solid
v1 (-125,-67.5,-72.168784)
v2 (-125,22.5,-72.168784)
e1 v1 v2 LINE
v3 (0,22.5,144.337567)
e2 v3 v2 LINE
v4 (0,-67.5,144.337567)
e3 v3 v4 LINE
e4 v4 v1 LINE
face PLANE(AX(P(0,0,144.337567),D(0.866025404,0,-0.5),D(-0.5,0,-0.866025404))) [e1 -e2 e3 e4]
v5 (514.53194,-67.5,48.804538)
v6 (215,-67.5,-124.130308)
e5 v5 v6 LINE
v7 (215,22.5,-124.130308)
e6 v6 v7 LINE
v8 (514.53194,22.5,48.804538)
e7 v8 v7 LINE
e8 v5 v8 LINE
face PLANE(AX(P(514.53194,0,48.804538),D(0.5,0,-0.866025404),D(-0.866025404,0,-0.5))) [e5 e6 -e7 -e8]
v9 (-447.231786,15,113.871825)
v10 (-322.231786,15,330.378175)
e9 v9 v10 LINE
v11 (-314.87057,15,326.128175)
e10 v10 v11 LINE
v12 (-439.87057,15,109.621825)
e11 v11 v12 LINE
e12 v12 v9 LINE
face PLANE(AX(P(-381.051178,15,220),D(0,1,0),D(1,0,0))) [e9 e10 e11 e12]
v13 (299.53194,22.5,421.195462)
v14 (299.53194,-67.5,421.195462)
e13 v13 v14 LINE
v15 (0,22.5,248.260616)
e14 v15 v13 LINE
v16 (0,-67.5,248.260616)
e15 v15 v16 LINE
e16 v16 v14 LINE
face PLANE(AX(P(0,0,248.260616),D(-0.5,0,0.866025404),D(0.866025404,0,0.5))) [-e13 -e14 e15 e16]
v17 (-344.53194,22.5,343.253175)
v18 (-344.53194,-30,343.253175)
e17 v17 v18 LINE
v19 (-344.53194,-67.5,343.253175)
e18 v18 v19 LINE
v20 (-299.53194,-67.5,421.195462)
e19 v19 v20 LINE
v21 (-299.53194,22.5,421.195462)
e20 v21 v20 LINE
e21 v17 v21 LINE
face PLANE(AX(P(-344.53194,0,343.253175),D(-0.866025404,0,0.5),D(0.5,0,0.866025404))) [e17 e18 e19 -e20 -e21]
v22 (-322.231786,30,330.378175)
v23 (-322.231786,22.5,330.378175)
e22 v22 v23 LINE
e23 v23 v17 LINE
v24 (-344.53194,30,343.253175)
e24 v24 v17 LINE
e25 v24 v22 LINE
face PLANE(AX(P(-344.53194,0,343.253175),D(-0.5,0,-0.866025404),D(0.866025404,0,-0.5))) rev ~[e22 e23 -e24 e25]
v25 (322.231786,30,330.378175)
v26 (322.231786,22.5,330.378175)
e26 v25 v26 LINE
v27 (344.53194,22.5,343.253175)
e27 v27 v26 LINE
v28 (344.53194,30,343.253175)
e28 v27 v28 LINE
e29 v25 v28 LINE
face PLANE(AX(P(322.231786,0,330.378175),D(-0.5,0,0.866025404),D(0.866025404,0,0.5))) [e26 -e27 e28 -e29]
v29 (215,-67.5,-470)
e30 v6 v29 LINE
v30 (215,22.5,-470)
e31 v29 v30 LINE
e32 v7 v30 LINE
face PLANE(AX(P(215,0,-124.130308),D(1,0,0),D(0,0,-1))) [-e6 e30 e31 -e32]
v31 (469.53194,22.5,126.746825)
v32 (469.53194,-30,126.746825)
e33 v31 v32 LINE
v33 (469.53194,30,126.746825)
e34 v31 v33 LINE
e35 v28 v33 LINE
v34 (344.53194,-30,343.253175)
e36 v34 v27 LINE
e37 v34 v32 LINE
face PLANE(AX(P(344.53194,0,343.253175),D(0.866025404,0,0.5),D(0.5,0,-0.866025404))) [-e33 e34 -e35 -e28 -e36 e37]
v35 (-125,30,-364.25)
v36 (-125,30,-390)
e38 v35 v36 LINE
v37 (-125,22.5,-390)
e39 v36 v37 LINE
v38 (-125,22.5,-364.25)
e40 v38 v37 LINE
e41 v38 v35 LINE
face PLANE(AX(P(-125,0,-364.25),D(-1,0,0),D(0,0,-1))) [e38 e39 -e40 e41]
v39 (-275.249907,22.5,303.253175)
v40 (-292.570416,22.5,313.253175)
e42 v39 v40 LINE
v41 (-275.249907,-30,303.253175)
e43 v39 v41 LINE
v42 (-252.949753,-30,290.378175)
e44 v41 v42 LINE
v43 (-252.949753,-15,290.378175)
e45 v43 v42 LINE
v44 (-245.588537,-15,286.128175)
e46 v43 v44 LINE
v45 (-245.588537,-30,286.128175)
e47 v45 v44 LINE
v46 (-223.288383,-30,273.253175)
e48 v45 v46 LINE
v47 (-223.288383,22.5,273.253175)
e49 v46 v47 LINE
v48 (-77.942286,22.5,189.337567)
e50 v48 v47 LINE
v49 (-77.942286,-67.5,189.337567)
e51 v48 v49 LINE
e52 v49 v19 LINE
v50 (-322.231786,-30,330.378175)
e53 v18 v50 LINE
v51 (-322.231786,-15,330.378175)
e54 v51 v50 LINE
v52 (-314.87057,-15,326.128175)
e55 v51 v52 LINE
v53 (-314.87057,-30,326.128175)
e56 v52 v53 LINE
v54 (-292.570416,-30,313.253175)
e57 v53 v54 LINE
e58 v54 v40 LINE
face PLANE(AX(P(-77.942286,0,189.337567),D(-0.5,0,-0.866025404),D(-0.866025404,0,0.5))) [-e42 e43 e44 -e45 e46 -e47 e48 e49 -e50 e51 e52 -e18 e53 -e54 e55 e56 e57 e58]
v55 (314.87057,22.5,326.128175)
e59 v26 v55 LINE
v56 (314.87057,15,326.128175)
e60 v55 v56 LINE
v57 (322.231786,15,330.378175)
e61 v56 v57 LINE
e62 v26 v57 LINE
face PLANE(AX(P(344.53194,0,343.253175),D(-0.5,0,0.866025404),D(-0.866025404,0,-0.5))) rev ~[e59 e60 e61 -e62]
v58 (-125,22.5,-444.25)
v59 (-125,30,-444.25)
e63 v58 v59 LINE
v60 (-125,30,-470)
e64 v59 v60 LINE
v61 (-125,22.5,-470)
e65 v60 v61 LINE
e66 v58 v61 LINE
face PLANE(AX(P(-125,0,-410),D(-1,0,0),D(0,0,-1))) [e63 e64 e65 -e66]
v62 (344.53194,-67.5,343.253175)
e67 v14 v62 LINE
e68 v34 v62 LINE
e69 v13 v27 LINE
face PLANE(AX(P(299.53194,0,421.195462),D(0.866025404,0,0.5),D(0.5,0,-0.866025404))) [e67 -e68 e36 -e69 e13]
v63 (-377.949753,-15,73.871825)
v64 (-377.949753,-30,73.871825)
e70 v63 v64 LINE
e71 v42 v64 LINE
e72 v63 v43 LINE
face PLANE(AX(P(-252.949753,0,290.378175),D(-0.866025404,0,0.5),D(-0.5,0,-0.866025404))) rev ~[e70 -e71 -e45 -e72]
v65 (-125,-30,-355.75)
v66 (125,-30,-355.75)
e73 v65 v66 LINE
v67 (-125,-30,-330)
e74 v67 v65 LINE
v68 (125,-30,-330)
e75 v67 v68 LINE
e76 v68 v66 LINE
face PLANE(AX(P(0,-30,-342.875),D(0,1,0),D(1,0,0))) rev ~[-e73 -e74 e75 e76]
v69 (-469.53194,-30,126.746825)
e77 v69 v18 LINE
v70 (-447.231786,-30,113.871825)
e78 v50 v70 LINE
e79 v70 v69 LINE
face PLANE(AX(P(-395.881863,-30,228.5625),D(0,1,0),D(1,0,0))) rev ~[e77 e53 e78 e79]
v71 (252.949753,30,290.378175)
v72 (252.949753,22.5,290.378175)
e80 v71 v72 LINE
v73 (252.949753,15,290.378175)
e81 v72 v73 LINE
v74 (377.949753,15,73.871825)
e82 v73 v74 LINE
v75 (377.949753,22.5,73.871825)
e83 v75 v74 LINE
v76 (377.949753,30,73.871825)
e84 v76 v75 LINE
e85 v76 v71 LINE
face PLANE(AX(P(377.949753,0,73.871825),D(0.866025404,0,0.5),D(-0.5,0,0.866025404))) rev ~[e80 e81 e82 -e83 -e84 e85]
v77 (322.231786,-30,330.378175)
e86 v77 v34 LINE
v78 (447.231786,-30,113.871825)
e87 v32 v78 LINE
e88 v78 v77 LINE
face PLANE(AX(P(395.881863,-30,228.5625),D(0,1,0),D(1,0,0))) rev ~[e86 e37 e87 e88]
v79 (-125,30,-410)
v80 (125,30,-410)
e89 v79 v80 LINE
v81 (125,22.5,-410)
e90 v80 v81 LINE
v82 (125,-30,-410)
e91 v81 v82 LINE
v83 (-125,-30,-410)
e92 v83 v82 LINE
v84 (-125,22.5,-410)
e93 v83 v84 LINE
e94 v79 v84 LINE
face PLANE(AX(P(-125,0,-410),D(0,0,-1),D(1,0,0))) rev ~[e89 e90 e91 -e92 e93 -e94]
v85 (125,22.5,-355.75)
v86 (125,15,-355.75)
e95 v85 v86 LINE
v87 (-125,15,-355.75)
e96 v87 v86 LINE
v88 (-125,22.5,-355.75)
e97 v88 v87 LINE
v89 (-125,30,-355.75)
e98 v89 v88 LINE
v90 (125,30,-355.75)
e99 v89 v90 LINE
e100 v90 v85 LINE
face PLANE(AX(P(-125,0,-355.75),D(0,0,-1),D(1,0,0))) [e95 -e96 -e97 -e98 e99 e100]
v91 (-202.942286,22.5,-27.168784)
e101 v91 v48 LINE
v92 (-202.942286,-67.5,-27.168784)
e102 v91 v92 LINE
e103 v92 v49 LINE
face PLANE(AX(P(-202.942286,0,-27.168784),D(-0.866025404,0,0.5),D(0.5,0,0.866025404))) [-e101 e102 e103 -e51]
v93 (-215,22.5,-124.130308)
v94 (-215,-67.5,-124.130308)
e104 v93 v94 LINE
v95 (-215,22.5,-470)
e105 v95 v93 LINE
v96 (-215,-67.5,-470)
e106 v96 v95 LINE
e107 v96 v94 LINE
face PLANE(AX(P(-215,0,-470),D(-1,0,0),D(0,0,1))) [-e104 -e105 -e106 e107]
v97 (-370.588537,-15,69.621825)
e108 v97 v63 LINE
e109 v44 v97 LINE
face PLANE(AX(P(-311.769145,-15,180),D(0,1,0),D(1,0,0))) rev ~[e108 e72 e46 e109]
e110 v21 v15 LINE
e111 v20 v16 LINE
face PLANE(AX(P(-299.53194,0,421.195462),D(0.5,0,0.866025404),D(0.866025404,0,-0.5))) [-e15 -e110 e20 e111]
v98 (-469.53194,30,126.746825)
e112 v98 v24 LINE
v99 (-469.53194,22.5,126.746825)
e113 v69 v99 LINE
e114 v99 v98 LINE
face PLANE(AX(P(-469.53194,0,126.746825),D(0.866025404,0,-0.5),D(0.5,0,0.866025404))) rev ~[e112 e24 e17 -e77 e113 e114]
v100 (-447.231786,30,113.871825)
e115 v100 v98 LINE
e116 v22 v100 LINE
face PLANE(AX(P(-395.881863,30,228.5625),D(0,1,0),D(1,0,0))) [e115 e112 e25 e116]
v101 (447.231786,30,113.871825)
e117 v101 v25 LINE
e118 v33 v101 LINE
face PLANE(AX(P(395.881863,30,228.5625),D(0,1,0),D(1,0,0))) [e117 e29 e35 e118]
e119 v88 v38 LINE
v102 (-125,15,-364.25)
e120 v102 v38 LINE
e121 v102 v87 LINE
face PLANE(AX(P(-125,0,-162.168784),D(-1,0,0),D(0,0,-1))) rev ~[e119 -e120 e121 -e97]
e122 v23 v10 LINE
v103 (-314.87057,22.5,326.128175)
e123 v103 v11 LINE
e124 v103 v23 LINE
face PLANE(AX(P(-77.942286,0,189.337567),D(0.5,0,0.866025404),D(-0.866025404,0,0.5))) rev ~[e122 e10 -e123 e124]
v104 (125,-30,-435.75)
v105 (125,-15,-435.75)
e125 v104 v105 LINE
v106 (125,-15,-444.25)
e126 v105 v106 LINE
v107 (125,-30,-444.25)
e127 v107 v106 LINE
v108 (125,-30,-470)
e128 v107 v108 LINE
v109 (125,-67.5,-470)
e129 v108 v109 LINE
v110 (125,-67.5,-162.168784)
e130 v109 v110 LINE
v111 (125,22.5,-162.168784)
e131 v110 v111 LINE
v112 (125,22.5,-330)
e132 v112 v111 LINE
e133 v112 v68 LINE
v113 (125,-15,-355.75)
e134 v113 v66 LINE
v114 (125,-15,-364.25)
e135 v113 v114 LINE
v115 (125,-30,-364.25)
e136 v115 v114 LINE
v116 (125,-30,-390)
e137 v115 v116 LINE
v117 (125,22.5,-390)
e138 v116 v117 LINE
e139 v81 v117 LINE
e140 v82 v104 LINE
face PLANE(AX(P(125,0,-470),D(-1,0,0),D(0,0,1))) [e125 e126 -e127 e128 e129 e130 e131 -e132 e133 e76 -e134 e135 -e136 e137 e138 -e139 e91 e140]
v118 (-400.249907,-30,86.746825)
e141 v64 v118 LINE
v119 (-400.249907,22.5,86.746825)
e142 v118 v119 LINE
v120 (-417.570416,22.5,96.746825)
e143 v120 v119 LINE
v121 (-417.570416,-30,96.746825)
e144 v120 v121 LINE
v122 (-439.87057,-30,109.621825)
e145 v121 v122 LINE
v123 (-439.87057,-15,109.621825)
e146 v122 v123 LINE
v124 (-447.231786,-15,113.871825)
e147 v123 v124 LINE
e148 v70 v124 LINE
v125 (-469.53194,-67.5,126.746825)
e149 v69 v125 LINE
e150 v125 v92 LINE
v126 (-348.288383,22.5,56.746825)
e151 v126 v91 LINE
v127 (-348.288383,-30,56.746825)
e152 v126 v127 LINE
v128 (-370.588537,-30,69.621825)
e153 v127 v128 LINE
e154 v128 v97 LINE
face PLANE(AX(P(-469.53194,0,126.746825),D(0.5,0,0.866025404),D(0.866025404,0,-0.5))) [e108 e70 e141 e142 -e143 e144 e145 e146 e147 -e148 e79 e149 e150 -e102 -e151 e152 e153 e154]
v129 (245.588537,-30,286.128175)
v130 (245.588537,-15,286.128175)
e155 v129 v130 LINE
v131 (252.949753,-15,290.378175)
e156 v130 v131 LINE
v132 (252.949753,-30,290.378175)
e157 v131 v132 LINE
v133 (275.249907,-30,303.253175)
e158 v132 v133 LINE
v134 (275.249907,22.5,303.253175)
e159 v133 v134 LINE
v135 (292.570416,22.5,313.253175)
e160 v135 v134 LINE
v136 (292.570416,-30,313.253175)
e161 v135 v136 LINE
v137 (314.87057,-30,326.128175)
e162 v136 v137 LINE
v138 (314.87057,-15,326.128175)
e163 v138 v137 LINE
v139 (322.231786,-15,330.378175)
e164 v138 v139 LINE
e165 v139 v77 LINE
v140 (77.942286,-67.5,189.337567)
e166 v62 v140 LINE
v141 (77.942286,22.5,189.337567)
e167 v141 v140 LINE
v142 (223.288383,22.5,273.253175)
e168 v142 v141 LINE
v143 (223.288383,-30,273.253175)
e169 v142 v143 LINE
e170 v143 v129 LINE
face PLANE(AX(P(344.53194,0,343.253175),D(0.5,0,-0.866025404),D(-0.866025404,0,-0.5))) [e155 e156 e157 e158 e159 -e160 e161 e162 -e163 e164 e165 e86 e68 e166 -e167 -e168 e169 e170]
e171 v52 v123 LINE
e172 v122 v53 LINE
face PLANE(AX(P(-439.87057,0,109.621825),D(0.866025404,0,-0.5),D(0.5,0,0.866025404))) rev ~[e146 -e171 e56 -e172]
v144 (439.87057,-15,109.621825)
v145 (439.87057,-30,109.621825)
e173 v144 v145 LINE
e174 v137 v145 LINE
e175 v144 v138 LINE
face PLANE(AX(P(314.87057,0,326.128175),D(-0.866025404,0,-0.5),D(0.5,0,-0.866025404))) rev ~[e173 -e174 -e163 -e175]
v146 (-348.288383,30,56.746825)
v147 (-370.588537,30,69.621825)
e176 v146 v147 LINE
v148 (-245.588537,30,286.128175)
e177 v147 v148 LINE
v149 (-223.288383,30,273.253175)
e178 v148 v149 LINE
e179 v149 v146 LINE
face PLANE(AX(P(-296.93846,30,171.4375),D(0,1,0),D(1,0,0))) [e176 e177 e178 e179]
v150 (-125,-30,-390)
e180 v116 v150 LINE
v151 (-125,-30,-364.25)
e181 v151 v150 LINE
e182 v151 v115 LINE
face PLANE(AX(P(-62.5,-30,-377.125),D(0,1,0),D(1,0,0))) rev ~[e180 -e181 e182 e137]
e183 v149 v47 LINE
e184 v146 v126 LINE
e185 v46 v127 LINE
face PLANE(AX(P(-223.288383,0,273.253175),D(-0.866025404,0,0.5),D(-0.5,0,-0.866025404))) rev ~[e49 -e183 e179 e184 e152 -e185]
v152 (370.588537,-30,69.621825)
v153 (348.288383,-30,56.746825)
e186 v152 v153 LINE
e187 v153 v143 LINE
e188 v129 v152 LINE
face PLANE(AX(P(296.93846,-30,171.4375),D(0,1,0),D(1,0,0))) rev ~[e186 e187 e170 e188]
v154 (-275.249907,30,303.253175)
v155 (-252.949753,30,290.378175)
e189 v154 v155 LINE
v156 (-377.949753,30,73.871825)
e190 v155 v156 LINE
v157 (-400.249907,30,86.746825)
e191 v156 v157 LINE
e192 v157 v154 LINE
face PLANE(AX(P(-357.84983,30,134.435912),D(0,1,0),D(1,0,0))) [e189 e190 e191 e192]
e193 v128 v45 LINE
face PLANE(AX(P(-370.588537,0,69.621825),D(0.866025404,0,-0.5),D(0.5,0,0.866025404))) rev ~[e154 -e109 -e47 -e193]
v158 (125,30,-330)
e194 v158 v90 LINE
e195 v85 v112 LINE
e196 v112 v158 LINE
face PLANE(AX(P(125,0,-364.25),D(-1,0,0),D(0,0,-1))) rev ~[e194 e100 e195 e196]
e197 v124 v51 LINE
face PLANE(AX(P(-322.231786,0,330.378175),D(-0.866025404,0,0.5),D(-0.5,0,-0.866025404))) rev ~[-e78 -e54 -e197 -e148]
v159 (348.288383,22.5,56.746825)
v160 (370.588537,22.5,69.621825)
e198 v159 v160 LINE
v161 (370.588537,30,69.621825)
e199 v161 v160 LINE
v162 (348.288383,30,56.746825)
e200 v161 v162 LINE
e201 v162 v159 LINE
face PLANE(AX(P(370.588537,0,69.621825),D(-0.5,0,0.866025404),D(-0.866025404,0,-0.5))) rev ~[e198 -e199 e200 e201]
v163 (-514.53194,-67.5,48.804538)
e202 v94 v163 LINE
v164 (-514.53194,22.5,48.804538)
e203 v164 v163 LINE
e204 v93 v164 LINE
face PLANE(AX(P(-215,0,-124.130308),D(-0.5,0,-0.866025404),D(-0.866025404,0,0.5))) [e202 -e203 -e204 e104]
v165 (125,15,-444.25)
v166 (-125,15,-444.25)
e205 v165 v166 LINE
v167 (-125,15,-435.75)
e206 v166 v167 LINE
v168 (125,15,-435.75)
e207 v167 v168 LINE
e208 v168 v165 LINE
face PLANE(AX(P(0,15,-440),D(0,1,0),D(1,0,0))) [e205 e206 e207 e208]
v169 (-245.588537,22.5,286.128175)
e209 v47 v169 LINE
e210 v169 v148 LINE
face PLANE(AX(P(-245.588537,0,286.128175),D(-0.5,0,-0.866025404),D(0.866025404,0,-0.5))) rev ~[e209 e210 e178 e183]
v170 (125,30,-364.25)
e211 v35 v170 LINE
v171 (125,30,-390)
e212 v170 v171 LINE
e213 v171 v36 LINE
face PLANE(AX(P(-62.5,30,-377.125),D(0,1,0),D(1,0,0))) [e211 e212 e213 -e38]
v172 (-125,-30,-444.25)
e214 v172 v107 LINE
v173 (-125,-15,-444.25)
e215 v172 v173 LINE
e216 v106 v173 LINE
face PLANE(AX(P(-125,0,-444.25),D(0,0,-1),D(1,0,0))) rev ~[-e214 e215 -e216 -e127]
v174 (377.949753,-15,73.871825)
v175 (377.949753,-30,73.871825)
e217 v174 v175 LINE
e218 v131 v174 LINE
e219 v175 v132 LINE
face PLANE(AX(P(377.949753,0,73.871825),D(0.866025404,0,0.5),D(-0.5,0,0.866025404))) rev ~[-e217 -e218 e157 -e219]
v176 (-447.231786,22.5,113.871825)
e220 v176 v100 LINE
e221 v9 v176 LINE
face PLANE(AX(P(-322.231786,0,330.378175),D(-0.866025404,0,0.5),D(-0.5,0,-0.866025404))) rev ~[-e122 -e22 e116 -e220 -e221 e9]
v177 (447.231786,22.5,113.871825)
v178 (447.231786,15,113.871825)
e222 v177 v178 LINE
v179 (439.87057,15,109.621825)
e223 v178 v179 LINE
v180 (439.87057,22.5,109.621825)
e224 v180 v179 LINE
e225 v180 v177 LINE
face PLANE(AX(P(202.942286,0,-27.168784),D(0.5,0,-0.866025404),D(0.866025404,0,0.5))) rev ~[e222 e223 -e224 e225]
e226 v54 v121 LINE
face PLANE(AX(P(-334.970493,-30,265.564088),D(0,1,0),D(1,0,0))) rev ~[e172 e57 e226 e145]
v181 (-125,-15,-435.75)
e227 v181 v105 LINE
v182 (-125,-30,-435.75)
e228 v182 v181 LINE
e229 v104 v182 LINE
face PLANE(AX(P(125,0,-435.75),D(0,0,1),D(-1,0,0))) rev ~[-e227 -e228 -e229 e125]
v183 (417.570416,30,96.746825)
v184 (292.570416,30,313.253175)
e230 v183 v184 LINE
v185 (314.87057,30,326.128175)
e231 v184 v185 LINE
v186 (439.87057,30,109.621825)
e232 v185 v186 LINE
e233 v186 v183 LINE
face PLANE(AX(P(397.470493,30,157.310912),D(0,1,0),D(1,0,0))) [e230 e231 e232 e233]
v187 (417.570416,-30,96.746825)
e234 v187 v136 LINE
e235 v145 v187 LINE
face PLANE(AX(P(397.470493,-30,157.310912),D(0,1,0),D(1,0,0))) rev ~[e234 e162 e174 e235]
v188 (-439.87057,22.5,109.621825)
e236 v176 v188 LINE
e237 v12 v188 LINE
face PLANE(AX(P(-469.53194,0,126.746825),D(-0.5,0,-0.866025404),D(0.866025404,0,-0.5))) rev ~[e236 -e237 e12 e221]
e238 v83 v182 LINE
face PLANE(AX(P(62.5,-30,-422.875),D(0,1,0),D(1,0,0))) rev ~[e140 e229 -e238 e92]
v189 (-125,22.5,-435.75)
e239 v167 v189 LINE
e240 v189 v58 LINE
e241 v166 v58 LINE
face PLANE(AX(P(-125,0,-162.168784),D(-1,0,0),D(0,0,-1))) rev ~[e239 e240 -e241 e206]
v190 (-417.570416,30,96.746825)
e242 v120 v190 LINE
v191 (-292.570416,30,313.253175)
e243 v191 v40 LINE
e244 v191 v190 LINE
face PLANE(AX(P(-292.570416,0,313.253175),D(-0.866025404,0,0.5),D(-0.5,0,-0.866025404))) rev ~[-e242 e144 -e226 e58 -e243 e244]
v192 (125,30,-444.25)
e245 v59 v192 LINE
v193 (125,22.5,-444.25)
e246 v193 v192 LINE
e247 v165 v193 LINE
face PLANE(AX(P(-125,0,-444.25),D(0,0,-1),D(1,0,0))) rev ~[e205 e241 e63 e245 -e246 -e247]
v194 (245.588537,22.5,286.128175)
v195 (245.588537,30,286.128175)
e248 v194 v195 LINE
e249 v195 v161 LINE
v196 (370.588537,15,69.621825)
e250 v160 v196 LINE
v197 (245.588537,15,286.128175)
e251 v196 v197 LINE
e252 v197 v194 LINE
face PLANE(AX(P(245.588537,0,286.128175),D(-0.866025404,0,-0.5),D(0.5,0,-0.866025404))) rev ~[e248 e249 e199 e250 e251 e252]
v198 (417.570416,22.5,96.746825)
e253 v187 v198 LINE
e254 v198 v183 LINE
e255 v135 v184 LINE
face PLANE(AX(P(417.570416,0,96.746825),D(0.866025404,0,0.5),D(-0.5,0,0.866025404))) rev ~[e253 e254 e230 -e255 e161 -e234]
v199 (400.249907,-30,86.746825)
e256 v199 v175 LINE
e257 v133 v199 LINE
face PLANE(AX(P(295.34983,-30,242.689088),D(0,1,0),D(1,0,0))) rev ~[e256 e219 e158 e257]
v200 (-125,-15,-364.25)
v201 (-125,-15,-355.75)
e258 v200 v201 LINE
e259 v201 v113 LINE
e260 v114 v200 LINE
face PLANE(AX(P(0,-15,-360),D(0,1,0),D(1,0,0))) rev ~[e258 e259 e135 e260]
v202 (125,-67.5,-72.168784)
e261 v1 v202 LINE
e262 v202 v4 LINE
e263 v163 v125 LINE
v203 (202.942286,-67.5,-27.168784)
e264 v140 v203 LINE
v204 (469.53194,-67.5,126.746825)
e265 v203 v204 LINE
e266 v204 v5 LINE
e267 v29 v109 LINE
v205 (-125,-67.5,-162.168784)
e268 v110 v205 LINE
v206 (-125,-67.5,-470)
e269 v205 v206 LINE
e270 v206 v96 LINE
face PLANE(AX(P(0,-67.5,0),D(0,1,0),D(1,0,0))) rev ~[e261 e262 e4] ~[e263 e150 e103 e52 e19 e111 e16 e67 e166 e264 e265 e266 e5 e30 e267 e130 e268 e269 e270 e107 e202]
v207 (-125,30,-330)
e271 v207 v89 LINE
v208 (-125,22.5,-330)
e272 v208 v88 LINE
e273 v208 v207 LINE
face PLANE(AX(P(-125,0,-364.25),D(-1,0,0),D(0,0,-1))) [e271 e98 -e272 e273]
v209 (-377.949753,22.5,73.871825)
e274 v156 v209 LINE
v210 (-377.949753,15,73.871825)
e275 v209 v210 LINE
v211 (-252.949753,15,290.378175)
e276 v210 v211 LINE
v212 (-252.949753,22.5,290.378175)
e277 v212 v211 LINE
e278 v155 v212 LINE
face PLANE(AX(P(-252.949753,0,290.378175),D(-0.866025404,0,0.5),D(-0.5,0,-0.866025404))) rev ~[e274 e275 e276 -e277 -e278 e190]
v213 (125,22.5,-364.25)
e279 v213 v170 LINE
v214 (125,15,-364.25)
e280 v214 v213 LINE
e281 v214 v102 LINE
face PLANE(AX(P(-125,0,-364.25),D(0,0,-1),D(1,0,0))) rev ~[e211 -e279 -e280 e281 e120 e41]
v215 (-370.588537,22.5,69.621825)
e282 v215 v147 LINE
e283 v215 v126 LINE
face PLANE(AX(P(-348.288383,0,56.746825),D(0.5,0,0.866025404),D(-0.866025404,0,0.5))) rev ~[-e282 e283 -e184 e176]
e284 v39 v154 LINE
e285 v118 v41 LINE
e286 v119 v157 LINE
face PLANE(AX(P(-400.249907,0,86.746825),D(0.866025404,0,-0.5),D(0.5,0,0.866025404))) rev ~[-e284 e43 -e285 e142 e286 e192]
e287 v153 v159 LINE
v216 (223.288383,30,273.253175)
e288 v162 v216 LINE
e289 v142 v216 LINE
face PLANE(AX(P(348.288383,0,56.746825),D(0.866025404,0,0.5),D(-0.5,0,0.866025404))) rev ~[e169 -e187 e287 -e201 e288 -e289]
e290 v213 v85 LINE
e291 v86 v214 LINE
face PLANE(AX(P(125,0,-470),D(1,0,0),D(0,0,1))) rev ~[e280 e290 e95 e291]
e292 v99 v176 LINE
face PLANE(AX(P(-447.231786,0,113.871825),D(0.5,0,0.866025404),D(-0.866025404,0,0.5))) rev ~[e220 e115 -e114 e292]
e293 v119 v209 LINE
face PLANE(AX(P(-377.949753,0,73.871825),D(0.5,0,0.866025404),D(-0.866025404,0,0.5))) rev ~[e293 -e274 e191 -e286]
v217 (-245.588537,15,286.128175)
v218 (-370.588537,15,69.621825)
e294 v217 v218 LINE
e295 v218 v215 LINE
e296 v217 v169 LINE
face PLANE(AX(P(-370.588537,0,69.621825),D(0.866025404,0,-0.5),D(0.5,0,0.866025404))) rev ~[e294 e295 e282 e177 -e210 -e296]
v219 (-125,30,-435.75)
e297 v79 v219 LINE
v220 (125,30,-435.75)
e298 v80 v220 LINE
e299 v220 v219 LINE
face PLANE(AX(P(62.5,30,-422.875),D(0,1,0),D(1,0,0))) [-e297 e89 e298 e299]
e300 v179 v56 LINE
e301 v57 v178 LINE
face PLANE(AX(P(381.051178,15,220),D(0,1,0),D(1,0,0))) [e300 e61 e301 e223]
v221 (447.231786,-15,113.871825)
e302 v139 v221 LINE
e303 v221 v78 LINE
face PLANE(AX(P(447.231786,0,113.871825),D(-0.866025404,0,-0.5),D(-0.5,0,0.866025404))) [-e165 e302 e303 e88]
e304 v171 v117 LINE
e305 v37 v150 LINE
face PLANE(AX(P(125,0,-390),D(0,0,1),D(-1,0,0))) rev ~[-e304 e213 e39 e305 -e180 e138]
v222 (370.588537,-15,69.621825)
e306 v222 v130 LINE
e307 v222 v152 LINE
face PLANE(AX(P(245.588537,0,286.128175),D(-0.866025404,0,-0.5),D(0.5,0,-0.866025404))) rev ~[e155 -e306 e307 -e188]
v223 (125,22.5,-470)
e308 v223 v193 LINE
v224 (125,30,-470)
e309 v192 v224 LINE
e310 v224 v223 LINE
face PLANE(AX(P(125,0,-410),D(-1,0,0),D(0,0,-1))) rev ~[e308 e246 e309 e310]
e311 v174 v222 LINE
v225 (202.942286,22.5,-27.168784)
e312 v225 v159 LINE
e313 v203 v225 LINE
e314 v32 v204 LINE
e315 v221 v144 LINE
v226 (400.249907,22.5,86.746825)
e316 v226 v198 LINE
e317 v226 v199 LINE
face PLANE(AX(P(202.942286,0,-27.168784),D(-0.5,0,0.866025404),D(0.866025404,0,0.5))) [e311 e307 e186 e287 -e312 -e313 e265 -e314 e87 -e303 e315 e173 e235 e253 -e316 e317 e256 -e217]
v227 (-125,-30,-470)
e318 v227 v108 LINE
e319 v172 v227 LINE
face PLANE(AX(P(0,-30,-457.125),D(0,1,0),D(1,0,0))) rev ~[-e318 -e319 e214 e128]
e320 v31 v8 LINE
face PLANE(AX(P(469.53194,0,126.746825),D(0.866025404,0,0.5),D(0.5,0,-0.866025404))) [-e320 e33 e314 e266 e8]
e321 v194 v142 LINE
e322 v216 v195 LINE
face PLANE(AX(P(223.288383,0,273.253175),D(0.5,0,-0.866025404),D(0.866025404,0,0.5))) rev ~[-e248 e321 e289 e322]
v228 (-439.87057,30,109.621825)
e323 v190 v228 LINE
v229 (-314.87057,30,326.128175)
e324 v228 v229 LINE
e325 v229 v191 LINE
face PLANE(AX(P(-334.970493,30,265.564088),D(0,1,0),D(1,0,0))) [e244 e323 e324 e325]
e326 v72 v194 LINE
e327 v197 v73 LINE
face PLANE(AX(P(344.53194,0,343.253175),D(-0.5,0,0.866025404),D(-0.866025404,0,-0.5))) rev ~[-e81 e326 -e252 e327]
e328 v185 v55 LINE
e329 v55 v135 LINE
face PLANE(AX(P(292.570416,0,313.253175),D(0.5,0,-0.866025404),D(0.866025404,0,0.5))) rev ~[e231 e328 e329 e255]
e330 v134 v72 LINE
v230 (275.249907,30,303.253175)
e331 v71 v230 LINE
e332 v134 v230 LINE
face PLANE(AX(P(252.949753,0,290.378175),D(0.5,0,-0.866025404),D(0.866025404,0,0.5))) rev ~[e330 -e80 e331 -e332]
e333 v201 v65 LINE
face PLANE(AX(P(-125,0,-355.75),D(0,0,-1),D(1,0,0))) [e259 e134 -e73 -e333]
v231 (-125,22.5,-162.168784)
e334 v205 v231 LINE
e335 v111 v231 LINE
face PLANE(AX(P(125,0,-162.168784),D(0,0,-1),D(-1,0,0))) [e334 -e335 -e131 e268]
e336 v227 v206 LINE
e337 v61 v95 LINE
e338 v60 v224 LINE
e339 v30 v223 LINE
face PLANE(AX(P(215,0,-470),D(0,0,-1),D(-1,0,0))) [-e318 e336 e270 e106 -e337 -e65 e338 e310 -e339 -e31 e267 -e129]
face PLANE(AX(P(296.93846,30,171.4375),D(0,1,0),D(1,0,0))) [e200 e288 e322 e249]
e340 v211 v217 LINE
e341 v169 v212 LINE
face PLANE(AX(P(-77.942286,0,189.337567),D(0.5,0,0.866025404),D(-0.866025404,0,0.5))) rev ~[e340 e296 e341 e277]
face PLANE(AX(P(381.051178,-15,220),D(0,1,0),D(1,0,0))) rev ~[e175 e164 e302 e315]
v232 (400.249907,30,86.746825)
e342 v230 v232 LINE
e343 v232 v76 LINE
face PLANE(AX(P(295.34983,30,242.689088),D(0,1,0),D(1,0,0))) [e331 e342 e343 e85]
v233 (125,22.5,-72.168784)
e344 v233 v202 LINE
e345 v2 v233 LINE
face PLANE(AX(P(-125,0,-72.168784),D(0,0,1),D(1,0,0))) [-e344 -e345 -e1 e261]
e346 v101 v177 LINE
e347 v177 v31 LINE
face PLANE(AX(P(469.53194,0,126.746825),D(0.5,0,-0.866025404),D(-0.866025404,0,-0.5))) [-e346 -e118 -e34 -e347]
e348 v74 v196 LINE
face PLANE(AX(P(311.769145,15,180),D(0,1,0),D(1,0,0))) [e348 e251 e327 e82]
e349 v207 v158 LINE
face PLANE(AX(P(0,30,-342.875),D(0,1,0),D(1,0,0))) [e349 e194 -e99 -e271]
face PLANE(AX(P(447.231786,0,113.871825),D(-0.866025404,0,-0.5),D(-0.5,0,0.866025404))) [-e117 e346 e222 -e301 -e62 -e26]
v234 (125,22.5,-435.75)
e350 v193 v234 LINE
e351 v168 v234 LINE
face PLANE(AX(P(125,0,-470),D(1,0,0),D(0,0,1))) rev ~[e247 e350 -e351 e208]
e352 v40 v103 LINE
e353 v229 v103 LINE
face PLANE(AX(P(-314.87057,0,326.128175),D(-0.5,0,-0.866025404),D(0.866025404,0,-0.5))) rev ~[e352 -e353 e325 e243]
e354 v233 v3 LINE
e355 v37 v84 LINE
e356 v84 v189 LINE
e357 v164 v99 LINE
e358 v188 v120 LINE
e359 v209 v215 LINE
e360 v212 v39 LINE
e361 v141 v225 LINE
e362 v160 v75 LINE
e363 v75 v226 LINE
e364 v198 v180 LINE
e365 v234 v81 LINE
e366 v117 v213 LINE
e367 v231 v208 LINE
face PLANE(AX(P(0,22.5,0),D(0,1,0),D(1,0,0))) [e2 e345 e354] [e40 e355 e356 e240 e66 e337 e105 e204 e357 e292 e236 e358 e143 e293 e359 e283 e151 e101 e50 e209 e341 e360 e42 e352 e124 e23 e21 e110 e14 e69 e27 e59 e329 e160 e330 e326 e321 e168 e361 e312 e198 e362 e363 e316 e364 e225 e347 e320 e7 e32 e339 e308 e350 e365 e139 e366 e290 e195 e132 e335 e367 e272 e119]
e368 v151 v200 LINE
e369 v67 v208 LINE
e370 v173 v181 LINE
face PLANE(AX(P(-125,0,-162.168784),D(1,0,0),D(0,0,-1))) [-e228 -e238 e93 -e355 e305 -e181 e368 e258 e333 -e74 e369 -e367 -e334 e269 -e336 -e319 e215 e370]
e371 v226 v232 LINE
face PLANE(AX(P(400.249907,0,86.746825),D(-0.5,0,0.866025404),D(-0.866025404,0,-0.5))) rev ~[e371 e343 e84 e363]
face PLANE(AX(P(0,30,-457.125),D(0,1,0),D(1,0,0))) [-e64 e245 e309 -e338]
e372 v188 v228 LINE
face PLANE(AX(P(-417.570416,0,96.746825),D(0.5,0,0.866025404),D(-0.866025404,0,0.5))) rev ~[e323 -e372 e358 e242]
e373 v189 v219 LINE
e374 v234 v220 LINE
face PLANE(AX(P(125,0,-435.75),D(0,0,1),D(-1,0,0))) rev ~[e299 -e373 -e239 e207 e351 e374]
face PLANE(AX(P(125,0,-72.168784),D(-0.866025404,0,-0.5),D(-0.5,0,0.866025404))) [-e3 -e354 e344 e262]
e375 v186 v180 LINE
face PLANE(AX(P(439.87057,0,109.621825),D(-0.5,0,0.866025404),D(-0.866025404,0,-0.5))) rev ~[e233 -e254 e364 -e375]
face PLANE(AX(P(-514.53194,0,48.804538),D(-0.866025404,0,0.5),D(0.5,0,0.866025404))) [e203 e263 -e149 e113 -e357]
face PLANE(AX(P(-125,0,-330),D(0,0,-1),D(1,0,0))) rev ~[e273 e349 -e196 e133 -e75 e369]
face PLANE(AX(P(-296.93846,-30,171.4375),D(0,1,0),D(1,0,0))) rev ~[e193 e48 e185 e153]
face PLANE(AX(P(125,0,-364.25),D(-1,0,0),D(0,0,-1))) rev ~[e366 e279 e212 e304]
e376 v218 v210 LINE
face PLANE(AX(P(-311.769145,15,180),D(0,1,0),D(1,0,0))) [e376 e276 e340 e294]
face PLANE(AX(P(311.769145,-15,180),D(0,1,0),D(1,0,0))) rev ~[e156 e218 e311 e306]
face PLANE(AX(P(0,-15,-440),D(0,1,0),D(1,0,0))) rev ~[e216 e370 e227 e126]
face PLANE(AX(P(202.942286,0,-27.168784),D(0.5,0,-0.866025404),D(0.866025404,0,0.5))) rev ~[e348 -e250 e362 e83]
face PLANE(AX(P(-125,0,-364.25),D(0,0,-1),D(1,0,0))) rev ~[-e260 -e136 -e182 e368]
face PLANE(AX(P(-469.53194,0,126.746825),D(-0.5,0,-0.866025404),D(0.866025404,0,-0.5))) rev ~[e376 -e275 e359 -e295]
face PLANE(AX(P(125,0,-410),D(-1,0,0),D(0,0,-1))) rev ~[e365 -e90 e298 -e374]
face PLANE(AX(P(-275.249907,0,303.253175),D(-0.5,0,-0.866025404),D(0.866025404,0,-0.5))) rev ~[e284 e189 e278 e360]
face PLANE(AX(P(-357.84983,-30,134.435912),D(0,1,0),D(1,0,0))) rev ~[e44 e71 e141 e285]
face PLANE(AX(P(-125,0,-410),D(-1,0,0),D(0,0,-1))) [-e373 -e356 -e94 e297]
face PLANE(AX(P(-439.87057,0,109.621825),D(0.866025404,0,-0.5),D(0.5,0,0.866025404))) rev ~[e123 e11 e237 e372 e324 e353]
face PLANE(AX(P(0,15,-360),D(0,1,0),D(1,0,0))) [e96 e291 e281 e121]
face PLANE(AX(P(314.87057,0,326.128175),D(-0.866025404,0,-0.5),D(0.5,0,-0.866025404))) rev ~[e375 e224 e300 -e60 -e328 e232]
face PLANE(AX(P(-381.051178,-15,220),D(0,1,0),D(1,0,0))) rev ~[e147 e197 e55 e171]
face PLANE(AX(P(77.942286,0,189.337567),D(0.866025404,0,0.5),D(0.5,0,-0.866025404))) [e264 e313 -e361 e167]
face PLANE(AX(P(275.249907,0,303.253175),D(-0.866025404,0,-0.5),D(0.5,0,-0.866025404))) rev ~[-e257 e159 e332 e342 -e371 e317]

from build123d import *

# Parameters (mm, degrees)
SALIENTE_EXTRUIR1_DEPTH   = 15
SALIENTE_EXTRUIR1_2_DEPTH = 15
SALIENTE_EXTRUIR1_3_DEPTH = 15
SALIENTE_EXTRUIR1_4_DEPTH = 15
SALIENTE_EXTRUIR1_5_DEPTH = 15
SALIENTE_EXTRUIR1_6_DEPTH = 15
CROQUIS1_4_W              = 250
CROQUIS1_4_H              = 25.75
SALIENTE_EXTRUIR2_DEPTH   = 30
SALIENTE_EXTRUIR3_DEPTH   = 22.5
SALIENTE_EXTRUIR4_DEPTH   = 67.5


with BuildPart() as part:
    # Croquis1 → Saliente-Extruir1 (new, symmetric)
    with BuildSketch(Plane(origin=(0, 0, 0), x_dir=(1, 0, 0), z_dir=(0, 1, 0))):
        Polygon((-377.949753328, -73.871824527), (-315.449753328, -182.125), (-252.949753328, -290.378175473), (-245.588537396, -286.128175473), (-370.588537396, -69.621824527), align=None)
    extrude(amount=SALIENTE_EXTRUIR1_DEPTH, both=True)



with BuildPart() as body_2:
    # Croquis1 → Saliente-Extruir1 2 (new, symmetric)
    with BuildSketch(Plane(origin=(0, 0, 0), x_dir=(1, 0, 0), z_dir=(0, 1, 0))):
        Polygon((-314.870569699, -326.128175473), (-377.370569699, -217.875), (-439.870569699, -109.621824527), (-447.231785631, -113.871824527), (-322.231785631, -330.378175473), align=None)
    extrude(amount=SALIENTE_EXTRUIR1_2_DEPTH, both=True)


with BuildPart() as body_3:
    # Croquis1 → Saliente-Extruir1 3 (new, symmetric)
    with BuildSketch(Plane(origin=(0, 0, 0), x_dir=(1, 0, 0), z_dir=(0, 1, 0))):
        Polygon((-125, 364.25), (-125, 355.75), (125, 355.75), (125, 364.25), (0, 364.25), align=None)
    extrude(amount=SALIENTE_EXTRUIR1_3_DEPTH, both=True)


with BuildPart() as body_4:
    # Croquis1 → Saliente-Extruir1 4 (new, symmetric)
    with BuildSketch(Plane(origin=(0, 0, 0), x_dir=(1, 0, 0), z_dir=(0, 1, 0))):
        Polygon((370.588537396, -69.621824527), (245.588537396, -286.128175473), (252.949753328, -290.378175473), (315.449753328, -182.125), (377.949753328, -73.871824527), align=None)
    extrude(amount=SALIENTE_EXTRUIR1_4_DEPTH, both=True)


with BuildPart() as body_5:
    # Croquis1 → Saliente-Extruir1 5 (new, symmetric)
    with BuildSketch(Plane(origin=(0, 0, 0), x_dir=(1, 0, 0), z_dir=(0, 1, 0))):
        Polygon((-125, 444.25), (-125, 435.75), (0, 435.75), (125, 435.75), (125, 444.25), align=None)
    extrude(amount=SALIENTE_EXTRUIR1_5_DEPTH, both=True)


with BuildPart() as body_6:
    # Croquis1 → Saliente-Extruir1 6 (new, symmetric)
    with BuildSketch(Plane(origin=(0, 0, 0), x_dir=(1, 0, 0), z_dir=(0, 1, 0))):
        Polygon((377.370569699, -217.875), (314.870569699, -326.128175473), (322.231785631, -330.378175473), (447.231785631, -113.871824527), (439.870569699, -109.621824527), align=None)
    extrude(amount=SALIENTE_EXTRUIR1_6_DEPTH, both=True)


with BuildPart() as part_1:
    add(part.part)

    add(body_2.part)  # Saliente-Extruir2 merges body 2

    add(body_3.part)  # Saliente-Extruir2 merges body 3

    add(body_4.part)  # Saliente-Extruir2 merges body 4

    add(body_5.part)  # Saliente-Extruir2 merges body 5

    add(body_6.part)  # Saliente-Extruir2 merges body 6
    # Croquis1<4> → Saliente-Extruir2 (add, symmetric)
    with BuildSketch(Plane(origin=(0, 0, 0), x_dir=(1, 0, 0), z_dir=(0, 1, 0))):
        Polygon((-252.949753328, -290.378175473), (-377.949753328, -73.871824527), (-400.249907476, -86.746824527), (-275.249907476, -303.253175473), align=None)
        Polygon((-292.570415552, -313.253175473), (-417.570415552, -96.746824527), (-439.870569699, -109.621824527), (-314.870569699, -326.128175473), align=None)
        Polygon((-348.288383249, -56.746824527), (-370.588537396, -69.621824527), (-245.588537396, -286.128175473), (-223.288383249, -273.253175473), align=None)
        Polygon((-322.231785631, -330.378175473), (-447.231785631, -113.871824527), (-469.531939779, -126.746824527), (-344.531939779, -343.253175473), align=None)
        with Locations((0, 342.875)):
            Rectangle(CROQUIS1_4_W, CROQUIS1_4_H)
        Polygon((348.288383249, -56.746824527), (223.288383249, -273.253175473), (245.588537396, -286.128175473), (370.588537396, -69.621824527), align=None)
        with Locations((0, 377.125)):
            Rectangle(CROQUIS1_4_W, CROQUIS1_4_H)
        Polygon((252.949753328, -290.378175473), (275.249907476, -303.253175473), (400.249907476, -86.746824527), (377.949753328, -73.871824527), align=None)
        with Locations((0, 422.875)):
            Rectangle(CROQUIS1_4_W, CROQUIS1_4_H)
        Polygon((292.570415552, -313.253175473), (314.870569699, -326.128175473), (439.870569699, -109.621824527), (417.570415552, -96.746824527), align=None)
        with Locations((0, 457.125)):
            Rectangle(CROQUIS1_4_W, CROQUIS1_4_H)
        Polygon((322.231785631, -330.378175473), (344.531939779, -343.253175473), (469.531939779, -126.746824527), (447.231785631, -113.871824527), align=None)
    extrude(amount=SALIENTE_EXTRUIR2_DEPTH, both=True)

    # Croquis1<5> → Saliente-Extruir3 (add)
    with BuildSketch(Plane(origin=(0, 0, 0), x_dir=(1, 0, 0), z_dir=(0, 1, 0))):
        Polygon((-202.942286341, 27.168783649), (-77.942286341, -189.337567297), (-344.531939779, -343.253175473), (-299.531939779, -421.195461814), (0, -248.260615752), (299.531939779, -421.195461814), (344.531939779, -343.253175473), (77.942286341, -189.337567297), (202.942286341, 27.168783649), (469.531939779, -126.746824527), (514.531939779, -48.804538186), (215, 124.130307876), (215, 470), (125, 470), (125, 162.168783649), (-125, 162.168783649), (-125, 470), (-215, 470), (-215, 124.130307876), (-514.531939779, -48.804538186), (-469.531939779, -126.746824527), align=None)
        Polygon((-125, 72.168783649), (125, 72.168783649), (0, -144.337567297), align=None, mode=Mode.SUBTRACT)
    extrude(amount=SALIENTE_EXTRUIR3_DEPTH)

    # Croquis1<6> → Saliente-Extruir4 (add)
    with BuildSketch(Plane(origin=(0, 0, 0), x_dir=(1, 0, 0), z_dir=(0, 1, 0))):
        Polygon((-202.942286341, 27.168783649), (-77.942286341, -189.337567297), (-344.531939779, -343.253175473), (-299.531939779, -421.195461814), (0, -248.260615752), (299.531939779, -421.195461814), (344.531939779, -343.253175473), (77.942286341, -189.337567297), (202.942286341, 27.168783649), (469.531939779, -126.746824527), (514.531939779, -48.804538186), (215, 124.130307876), (215, 470), (125, 470), (125, 162.168783649), (-125, 162.168783649), (-125, 470), (-215, 470), (-215, 124.130307876), (-514.531939779, -48.804538186), (-469.531939779, -126.746824527), align=None)
        Polygon((-125, 72.168783649), (125, 72.168783649), (0, -144.337567297), align=None, mode=Mode.SUBTRACT)
    extrude(amount=-SALIENTE_EXTRUIR4_DEPTH)


solid = part_1.part
